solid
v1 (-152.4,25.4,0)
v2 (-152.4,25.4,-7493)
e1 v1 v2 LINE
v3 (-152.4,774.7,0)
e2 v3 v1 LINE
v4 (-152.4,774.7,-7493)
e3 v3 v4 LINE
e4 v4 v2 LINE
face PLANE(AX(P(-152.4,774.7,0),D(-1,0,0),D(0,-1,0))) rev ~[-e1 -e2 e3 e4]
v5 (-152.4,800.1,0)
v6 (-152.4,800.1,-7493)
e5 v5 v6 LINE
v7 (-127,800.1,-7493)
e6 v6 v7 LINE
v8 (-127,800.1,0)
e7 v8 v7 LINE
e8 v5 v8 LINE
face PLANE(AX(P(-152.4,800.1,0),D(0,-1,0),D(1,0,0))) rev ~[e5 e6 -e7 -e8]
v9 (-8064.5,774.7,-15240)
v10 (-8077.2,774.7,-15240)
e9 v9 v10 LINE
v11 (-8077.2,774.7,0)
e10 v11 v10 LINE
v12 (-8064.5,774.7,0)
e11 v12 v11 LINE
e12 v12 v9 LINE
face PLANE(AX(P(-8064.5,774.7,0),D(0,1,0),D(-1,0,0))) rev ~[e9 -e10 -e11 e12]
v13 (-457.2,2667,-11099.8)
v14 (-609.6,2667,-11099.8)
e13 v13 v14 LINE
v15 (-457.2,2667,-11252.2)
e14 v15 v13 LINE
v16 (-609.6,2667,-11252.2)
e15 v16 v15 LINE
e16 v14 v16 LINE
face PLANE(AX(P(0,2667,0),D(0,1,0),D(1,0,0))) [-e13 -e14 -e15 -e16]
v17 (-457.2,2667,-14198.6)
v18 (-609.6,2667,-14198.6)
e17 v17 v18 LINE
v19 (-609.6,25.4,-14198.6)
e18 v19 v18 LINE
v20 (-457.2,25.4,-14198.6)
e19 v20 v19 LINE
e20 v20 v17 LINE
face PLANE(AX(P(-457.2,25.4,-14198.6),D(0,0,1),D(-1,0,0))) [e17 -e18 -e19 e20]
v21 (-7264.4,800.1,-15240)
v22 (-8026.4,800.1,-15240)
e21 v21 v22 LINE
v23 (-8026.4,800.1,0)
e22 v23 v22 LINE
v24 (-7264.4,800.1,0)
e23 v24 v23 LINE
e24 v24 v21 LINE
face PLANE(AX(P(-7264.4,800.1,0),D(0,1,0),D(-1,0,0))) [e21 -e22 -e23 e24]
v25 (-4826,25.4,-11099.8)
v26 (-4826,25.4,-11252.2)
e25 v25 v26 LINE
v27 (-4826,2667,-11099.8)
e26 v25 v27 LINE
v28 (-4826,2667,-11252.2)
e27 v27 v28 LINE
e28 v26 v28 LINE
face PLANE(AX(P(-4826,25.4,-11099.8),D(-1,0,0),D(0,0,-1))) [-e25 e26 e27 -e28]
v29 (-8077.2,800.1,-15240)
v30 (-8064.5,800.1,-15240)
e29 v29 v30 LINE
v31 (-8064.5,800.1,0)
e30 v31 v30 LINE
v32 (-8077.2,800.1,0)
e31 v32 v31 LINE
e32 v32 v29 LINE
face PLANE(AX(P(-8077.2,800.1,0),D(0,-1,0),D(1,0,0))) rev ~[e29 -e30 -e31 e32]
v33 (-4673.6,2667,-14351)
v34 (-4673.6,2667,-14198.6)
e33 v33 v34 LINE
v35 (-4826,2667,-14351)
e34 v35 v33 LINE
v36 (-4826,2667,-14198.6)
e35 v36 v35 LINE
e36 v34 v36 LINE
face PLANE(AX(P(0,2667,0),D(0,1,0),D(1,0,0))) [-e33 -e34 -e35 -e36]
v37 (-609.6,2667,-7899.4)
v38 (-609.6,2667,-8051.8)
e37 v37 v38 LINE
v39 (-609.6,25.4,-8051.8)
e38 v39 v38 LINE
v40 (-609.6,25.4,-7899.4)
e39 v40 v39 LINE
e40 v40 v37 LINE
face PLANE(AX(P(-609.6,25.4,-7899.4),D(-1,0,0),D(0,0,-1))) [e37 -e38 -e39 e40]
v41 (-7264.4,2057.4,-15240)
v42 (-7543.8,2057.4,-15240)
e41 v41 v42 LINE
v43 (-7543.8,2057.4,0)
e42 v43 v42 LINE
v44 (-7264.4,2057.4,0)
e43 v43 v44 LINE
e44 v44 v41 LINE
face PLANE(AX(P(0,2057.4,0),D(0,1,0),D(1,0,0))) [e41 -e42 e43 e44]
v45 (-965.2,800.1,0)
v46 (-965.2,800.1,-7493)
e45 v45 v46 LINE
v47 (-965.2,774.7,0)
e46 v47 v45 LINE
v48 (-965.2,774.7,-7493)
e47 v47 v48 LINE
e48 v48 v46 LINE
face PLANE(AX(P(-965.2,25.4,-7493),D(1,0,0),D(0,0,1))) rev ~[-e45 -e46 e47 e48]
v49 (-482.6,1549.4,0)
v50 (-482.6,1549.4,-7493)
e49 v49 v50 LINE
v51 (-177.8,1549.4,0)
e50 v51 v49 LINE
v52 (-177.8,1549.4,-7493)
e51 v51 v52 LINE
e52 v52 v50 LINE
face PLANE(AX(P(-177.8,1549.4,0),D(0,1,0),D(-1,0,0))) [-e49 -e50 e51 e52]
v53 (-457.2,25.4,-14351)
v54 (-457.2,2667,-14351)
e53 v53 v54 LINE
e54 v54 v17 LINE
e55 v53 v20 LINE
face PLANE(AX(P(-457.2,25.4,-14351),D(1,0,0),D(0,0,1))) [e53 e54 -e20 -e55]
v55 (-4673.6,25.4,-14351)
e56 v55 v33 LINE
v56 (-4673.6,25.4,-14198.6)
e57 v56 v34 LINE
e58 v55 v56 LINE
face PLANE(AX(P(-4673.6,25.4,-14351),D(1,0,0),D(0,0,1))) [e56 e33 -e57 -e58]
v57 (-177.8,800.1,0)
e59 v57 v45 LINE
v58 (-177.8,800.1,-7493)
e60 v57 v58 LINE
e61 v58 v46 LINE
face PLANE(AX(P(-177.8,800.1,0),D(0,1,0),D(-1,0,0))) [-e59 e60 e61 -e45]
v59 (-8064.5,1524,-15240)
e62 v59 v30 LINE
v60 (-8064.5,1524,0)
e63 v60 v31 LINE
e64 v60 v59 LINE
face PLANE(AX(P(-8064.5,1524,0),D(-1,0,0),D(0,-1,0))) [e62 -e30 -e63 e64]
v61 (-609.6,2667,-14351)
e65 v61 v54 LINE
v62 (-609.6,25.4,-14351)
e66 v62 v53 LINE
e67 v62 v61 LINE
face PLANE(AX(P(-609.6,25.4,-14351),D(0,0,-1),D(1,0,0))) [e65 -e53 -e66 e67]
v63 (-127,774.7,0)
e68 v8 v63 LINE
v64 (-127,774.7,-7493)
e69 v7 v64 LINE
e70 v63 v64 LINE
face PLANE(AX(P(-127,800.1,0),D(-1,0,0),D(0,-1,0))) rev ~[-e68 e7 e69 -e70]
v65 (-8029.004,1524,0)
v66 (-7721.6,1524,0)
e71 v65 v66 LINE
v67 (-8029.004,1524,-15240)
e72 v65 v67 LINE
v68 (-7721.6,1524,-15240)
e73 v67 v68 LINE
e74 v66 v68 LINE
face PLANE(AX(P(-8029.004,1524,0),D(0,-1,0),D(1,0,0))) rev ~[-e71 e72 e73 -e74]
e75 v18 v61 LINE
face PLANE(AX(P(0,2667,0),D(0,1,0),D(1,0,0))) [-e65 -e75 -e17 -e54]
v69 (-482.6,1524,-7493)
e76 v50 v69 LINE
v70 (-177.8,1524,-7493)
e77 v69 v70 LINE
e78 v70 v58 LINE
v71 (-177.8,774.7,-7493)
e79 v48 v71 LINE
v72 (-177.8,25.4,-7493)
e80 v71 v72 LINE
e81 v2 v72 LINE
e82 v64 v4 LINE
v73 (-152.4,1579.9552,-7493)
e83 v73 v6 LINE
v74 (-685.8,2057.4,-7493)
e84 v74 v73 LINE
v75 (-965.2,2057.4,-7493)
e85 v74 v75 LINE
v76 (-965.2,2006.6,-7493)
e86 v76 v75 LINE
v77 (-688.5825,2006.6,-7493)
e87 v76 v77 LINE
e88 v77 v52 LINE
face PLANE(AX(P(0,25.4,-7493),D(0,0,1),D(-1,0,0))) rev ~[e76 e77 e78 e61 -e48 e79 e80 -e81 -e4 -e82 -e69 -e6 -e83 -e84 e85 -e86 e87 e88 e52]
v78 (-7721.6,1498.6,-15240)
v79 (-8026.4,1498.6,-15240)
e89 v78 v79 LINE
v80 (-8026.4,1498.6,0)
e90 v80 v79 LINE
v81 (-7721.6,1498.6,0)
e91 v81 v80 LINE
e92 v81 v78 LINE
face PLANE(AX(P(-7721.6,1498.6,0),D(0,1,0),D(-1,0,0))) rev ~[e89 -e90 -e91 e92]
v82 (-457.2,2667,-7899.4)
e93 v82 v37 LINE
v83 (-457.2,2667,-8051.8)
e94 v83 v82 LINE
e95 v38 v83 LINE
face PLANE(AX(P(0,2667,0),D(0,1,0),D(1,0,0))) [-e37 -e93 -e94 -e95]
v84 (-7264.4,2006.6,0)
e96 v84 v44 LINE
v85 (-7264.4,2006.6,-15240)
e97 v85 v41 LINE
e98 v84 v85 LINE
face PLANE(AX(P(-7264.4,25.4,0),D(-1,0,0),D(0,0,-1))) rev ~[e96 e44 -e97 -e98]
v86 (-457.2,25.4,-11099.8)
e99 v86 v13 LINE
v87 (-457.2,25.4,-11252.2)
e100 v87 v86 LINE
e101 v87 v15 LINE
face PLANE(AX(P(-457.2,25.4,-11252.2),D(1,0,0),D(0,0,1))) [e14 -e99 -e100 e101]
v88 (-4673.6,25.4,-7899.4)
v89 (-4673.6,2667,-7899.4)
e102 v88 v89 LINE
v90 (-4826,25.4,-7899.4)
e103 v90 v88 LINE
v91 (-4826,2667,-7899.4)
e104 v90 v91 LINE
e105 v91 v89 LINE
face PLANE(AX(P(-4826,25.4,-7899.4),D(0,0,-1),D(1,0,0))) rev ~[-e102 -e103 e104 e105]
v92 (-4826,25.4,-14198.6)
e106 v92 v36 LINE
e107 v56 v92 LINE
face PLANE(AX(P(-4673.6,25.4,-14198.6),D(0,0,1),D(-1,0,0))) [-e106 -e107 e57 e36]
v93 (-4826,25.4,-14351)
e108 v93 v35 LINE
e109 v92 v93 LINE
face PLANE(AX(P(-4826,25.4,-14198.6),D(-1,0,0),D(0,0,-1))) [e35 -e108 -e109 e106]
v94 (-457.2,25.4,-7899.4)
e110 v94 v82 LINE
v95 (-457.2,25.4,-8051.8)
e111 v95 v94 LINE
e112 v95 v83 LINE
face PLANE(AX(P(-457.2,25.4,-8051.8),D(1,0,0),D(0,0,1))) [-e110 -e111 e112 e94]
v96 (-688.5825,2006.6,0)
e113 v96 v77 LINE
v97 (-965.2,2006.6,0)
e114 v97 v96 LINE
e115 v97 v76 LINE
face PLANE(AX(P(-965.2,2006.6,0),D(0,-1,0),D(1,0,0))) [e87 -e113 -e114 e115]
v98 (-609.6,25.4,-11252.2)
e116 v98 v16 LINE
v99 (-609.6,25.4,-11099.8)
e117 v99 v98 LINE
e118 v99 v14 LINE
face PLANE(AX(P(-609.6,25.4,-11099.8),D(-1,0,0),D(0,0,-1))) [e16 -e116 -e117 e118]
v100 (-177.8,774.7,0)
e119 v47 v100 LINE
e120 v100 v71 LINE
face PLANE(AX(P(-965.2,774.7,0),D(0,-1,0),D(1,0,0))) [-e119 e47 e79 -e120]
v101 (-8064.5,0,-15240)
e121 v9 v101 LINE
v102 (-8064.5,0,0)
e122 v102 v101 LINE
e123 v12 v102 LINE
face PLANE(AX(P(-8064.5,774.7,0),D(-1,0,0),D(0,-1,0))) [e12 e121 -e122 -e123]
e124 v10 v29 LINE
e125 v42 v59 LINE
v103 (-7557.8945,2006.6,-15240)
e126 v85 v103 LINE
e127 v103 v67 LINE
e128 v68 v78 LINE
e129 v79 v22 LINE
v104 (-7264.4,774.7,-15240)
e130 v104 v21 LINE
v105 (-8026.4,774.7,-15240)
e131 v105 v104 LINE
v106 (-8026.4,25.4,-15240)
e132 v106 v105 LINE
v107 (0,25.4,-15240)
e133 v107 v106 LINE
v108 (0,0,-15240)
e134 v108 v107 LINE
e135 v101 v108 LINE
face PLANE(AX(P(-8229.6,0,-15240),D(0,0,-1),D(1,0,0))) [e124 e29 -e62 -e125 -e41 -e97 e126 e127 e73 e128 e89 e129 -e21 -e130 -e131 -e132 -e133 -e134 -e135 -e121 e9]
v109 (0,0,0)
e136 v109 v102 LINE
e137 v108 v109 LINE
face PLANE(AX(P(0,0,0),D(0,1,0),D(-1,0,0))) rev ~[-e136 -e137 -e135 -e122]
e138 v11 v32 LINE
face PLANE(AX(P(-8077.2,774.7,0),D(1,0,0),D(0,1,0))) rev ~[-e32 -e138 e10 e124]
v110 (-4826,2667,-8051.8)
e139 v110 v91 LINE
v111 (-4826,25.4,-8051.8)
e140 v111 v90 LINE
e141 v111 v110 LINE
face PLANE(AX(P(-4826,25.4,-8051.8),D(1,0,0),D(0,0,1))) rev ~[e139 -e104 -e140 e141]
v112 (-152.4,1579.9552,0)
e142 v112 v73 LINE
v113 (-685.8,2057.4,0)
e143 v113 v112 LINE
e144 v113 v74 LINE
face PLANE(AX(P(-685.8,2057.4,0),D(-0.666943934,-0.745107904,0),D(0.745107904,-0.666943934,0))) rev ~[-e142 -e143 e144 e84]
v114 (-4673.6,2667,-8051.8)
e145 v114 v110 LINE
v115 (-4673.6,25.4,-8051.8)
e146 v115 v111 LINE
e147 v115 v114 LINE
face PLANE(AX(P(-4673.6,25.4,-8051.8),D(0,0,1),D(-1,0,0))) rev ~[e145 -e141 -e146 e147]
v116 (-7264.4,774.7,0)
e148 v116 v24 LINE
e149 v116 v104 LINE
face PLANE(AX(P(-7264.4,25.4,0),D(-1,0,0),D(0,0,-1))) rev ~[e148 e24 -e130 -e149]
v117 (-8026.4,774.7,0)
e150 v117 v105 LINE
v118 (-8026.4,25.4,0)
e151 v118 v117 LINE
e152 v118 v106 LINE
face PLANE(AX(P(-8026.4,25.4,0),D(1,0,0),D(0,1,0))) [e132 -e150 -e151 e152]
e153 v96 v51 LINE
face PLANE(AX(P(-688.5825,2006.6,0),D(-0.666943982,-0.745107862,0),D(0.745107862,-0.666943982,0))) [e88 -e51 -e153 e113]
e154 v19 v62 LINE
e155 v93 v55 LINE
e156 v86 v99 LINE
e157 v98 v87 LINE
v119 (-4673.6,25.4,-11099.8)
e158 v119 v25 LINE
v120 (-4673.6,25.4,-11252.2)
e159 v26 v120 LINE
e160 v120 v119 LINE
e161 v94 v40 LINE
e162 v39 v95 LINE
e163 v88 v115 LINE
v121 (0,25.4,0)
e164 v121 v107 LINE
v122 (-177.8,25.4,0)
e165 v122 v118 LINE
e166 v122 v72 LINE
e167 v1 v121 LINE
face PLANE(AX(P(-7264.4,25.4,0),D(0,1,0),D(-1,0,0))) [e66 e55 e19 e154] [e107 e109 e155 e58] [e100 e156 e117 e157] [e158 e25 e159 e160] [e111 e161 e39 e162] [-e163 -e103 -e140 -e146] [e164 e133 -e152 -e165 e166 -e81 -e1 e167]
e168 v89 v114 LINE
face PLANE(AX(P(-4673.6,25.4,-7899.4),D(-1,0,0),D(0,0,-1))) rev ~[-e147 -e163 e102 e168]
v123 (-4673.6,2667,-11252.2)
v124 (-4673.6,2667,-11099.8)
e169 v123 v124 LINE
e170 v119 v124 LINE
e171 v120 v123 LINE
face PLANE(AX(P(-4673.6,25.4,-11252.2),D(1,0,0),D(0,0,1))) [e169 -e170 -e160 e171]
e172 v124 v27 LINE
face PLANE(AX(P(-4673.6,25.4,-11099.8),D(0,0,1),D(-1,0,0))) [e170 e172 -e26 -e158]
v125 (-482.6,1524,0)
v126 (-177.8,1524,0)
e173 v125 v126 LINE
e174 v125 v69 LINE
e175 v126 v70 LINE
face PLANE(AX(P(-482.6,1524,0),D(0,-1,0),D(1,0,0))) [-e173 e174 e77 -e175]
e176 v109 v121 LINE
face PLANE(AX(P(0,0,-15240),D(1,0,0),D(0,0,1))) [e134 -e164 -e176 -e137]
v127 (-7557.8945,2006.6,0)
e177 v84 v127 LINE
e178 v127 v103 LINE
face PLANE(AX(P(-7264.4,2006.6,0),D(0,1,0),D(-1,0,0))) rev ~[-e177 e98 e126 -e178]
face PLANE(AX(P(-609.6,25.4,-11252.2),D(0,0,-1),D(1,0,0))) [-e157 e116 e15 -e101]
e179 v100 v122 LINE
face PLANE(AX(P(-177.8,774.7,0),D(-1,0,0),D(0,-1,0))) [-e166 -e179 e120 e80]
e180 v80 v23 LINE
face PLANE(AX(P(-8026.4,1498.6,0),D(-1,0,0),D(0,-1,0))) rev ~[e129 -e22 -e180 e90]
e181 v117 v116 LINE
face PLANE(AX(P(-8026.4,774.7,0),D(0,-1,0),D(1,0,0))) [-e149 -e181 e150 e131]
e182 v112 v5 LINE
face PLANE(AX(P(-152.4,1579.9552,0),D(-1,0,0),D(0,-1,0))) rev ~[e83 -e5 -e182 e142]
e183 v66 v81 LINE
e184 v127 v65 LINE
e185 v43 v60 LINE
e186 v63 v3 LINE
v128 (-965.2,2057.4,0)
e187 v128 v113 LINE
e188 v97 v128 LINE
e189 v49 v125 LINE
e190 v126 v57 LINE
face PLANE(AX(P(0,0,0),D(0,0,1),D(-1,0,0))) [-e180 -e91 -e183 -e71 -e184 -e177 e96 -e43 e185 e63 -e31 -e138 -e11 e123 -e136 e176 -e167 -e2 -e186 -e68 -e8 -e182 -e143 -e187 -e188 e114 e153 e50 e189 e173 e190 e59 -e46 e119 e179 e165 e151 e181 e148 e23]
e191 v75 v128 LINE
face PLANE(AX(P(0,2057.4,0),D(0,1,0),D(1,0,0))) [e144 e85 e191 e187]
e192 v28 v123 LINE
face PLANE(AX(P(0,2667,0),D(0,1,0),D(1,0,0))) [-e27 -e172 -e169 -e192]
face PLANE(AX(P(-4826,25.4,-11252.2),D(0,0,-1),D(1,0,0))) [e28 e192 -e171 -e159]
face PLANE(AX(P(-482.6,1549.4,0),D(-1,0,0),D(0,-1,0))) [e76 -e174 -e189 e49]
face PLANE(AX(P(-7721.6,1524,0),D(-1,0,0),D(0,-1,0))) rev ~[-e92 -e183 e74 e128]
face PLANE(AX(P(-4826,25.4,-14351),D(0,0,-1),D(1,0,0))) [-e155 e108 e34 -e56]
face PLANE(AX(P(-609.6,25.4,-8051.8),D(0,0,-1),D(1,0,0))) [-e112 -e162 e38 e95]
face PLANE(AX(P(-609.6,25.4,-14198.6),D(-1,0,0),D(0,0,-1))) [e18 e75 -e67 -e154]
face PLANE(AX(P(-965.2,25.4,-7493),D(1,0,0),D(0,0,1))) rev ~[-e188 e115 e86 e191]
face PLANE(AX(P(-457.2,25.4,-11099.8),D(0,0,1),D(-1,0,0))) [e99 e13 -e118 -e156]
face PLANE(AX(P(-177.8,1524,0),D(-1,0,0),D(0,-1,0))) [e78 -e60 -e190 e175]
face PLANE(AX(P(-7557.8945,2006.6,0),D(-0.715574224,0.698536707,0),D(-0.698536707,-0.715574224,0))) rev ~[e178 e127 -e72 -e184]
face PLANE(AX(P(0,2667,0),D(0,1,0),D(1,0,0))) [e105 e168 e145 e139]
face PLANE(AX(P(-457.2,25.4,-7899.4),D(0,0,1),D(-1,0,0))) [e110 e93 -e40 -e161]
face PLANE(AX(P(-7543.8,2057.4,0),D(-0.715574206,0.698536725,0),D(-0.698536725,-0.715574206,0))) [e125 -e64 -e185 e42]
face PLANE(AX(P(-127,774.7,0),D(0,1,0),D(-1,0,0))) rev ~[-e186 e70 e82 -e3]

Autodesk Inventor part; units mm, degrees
ref_plane "YZ Plane" through (0, 0, 0) normal (1, 0, 0) x (0, 1, 0)
ref_plane "XZ Plane" through (0, 0, 0) normal (0, 1, 0) x (-1, 0, 0)
ref_plane "XY Plane" through (0, 0, 0) normal (0, 0, 1) x (1, 0, 0)
sketch "Sketch1" plane through (0, 0, 0) normal (0, 1, 0) x (-1, 0, 0)
  line L0 (0, 0) -> (8229.6, 0)
  line L1 (8229.6, 0) -> (8229.6, -15240)
  line L2 (8229.6, -15240) -> (0, -15240)
  line L3 (0, -15240) -> (0, 0)
  line L4 (533.4, -7975.6) -> (533.4, -11176) construction
  line L5 (533.4, -11176) -> (533.4, -14274.8) construction
  line L6 (4749.8, -7975.6) -> (4749.8, -11176) construction
  line L7 (4749.8, -11176) -> (4749.8, -14274.8) construction
  line L8 (4749.8, -14274.8) -> (533.4, -14274.8) construction
  line L9 (4749.8, -7975.6) -> (533.4, -7975.6) construction
  line L10 (533.4, -11176) -> (4749.8, -11176) construction
  dimension "d0" = 15240
  dimension "d1" = 8229.6
  dimension "d2" = 3200.4
  dimension "d3" = 3098.8
  dimension "d4" = 4216.4
  dimension "d5" = 533.4
  dimension "d6" = 965.2
extrude "Extrusion1" add sketch "Sketch1" along normal blind 25.4
sketch "Sketch2" plane through (0, 25.4, 0) normal (0, 1, 0) x (1, 0, 0)
  line L0 (-4673.6, 8051.8) -> (-4826, 8051.8)
  line L1 (-4826, 8051.8) -> (-4826, 7899.4)
  line L2 (-4826, 7899.4) -> (-4673.6, 7899.4)
  line L3 (-4673.6, 7899.4) -> (-4673.6, 8051.8)
  line L4 (-4673.6, 8051.8) -> (-4826, 7899.4) construction
  line L5 (-4826, 8051.8) -> (-4673.6, 7899.4) construction
  line L6 (-457.2, 7899.4) -> (-609.6, 7899.4)
  line L7 (-609.6, 7899.4) -> (-609.6, 8051.8)
  line L8 (-609.6, 8051.8) -> (-457.2, 8051.8)
  line L9 (-457.2, 8051.8) -> (-457.2, 7899.4)
  line L10 (-457.2, 7899.4) -> (-609.6, 8051.8) construction
  line L11 (-609.6, 7899.4) -> (-457.2, 8051.8) construction
  line L12 (-4673.6, 11099.8) -> (-4826, 11099.8)
  line L13 (-4826, 11099.8) -> (-4826, 11252.2)
  line L14 (-4826, 11252.2) -> (-4673.6, 11252.2)
  line L15 (-4673.6, 11252.2) -> (-4673.6, 11099.8)
  line L16 (-4673.6, 11099.8) -> (-4826, 11252.2) construction
  line L17 (-4826, 11099.8) -> (-4673.6, 11252.2) construction
  line L18 (-457.2, 11099.8) -> (-609.6, 11099.8)
  line L19 (-609.6, 11099.8) -> (-609.6, 11252.2)
  line L20 (-609.6, 11252.2) -> (-457.2, 11252.2)
  line L21 (-457.2, 11252.2) -> (-457.2, 11099.8)
  line L22 (-457.2, 11099.8) -> (-609.6, 11252.2) construction
  line L23 (-609.6, 11099.8) -> (-457.2, 11252.2) construction
  line L24 (-457.2, 14198.6) -> (-609.6, 14198.6)
  line L25 (-609.6, 14198.6) -> (-609.6, 14351)
  line L26 (-609.6, 14351) -> (-457.2, 14351)
  line L27 (-457.2, 14351) -> (-457.2, 14198.6)
  line L28 (-457.2, 14198.6) -> (-609.6, 14351) construction
  line L29 (-609.6, 14198.6) -> (-457.2, 14351) construction
  line L30 (-4673.6, 14198.6) -> (-4826, 14198.6)
  line L31 (-4826, 14198.6) -> (-4826, 14351)
  line L32 (-4826, 14351) -> (-4673.6, 14351)
  line L33 (-4673.6, 14351) -> (-4673.6, 14198.6)
  line L34 (-4673.6, 14198.6) -> (-4826, 14351) construction
  line L35 (-4826, 14198.6) -> (-4673.6, 14351) construction
  point P0 (0, 0)
  point P1 (-4749.8, 14274.8)
  point P2 (-533.4, 14274.8)
  point P3 (-533.4, 11176)
  point P4 (-4749.8, 11176)
  point P5 (-4749.8, 7975.6)
  point P6 (-533.4, 7975.6)
  dimension "d9" = 152.4
  dimension "d10" = 152.4
  dimension "d11" = 152.4
  dimension "d12" = 152.4
  dimension "d13" = 152.4
  dimension "d14" = 152.4
  dimension "d15" = 152.4
  dimension "d16" = 152.4
  dimension "d17" = 152.4
  dimension "d18" = 152.4
  dimension "d19" = 152.4
extrude "Extrusion2" add sketch "Sketch2" along normal blind 2641.6
sketch "Sketch3" plane through (0, 25.4, 0) normal (0, 1, 0) x (1, 0, 0)
  line L0 (-8229.6, 0) -> (-7264.4, 0)
  line L1 (-7264.4, 0) -> (-7264.4, 15240)
  line L2 (-7264.4, 15240) -> (-8229.6, 15240)
  line L3 (-8229.6, 15240) -> (-8229.6, 0)
  line L4 (0, 7493) -> (-965.2, 7493)
  line L5 (-965.2, 7493) -> (-965.2, 0)
  line L6 (-965.2, 0) -> (0, 0)
  line L7 (0, 0) -> (0, 7493)
  line L8 (-8229.6, 15240) -> (-8229.6, 0) projected
  line L9 (0, 15240) -> (-8229.6, 15240) projected
  line L10 (-8229.6, 0) -> (0, 0) projected
  line L11 (0, 0) -> (0, 15240) projected
  line L12 (-609.6, 7899.4) -> (-457.2, 7899.4) projected
  dimension "d22" = 965.2
  dimension "d23" = 0
  dimension "d24" = 0
  dimension "d25" = 0
  dimension "d26" = 965.2
  dimension "d27" = 0
  dimension "d28" = 406.4
  dimension "d29" = 0
extrude "Extrusion3" add sketch "Sketch3" along normal blind 2032 contours L3 L2 L1 L0 | L5 L4 L7 L6
sketch "Sketch4" plane through (-8229.6, 0, 0) normal (0, 0, 1) x (1, 0, 0)
  line L0 (685.8, 2057.4) -> (165.1, 1524)
  line L1 (165.1, 1524) -> (165.1, 774.7)
  line L2 (0, 0) -> (0, 2057.4) projected
  line L3 (165.1, 774.7) -> (152.4, 774.7)
  line L4 (152.4, 774.7) -> (152.4, 800.1)
  line L5 (152.4, 800.1) -> (165.1, 800.1)
  line L6 (165.1, 800.1) -> (165.1, 0)
  line L7 (8229.6, 0) -> (0, 0) projected
  line L8 (965.2, 25.4) -> (965.2, 2057.4) projected
  line L9 (965.2, 2006.6) -> (671.7055, 2006.6)
  line L10 (671.7055, 2006.6) -> (200.596, 1524)
  line L11 (200.596, 1524) -> (508, 1524)
  line L12 (508, 1524) -> (508, 1498.6)
  line L13 (508, 1498.6) -> (203.2, 1498.6)
  line L14 (203.2, 1498.6) -> (203.2, 774.7)
  line L15 (203.2, 774.7) -> (965.2, 774.7)
  line L16 (965.2, 800.1) -> (203.2, 800.1)
  line L17 (203.2, 0) -> (203.2, 800.1)
  line L18 (165.1, 0) -> (203.2, 0)
  line L19 (0, 2057.4) -> (965.2, 2057.4) projected
  line L20 (685.8, 2057.4) -> (965.2, 2057.4)
  line L21 (965.2, 25.4) -> (7264.4, 25.4) projected
  line L22 (965.2, 25.4) -> (203.2, 25.4)
  line L23 (8229.6, 0) -> (8229.6, 2057.4) projected
  line L24 (4114.8, 3713.7575) -> (4114.8, -1399.6684) construction
  line L25 (8229.6, 2057.4) -> (7264.4, 2057.4) projected
  line L26 (7264.4, 2057.4) -> (7543.8, 2057.4)
  line L27 (7543.8, 2057.4) -> (8077.2, 1579.9552)
  line L28 (8077.2, 1579.9552) -> (8077.2, 800.1)
  line L29 (8077.2, 800.1) -> (8102.6, 800.1)
  line L30 (8102.6, 800.1) -> (8102.6, 774.7)
  line L31 (8102.6, 774.7) -> (8077.2, 774.7)
  line L32 (8077.2, 774.7) -> (8077.2, 0)
  line L33 (7264.4, 25.4) -> (7264.4, 2057.4) projected
  line L34 (7264.4, 2057.4) -> (7264.4, 2006.6)
  line L35 (7264.4, 2006.6) -> (7541.0175, 2006.6)
  line L36 (7541.0175, 2006.6) -> (8051.8, 1549.4)
  line L37 (8051.8, 1549.4) -> (7747, 1549.4)
  line L38 (7747, 1549.4) -> (7747, 1524)
  line L39 (7747, 1524) -> (8051.8, 1524)
  line L40 (8051.8, 1524) -> (8051.8, 800.1)
  line L41 (8051.8, 800.1) -> (7264.4, 800.1)
  line L42 (7264.4, 774.7) -> (8051.8, 774.7)
  line L43 (8051.8, 774.7) -> (8051.8, 0)
  line L44 (8051.8, 0) -> (8077.2, 0)
  line L45 (0, 0) -> (8229.6, 0) projected
  line L46 (7264.4, 800.1) -> (7264.4, 774.7)
  line L47 (7264.4, 25.4) -> (8229.6, 25.4) projected
  line L48 (7264.4, 25.4) -> (8051.8, 25.4)
  line L49 (8077.2, 25.4) -> (8229.6, 25.4)
  point P0 (7620, 25.4)
  dimension "d33" = 279.4
  dimension "d34" = 152.4
  dimension "d35" = 38.1
  dimension "d36" = 25.4
  dimension "d37" = 304.8
  dimension "d38" = 25.4
  dimension "d40" = 723.9
  dimension "d41" = 25.4
  dimension "d42" = 749.3
  dimension "d43" = 12.7
  dimension "d44" = 0
  dimension "d47" = 8229.6
  dimension "d48" = 4114.8
  dimension "d49" = 50.8
  dimension "d50" = 50.8
  dimension "d51" = 279.4
  dimension "d53" = 25.4
  dimension "d55" = 25.4
  dimension "d56" = 749.3
  dimension "d57" = 723.9
  dimension "d61" = 25.4
  dimension "d62" = 0
  dimension "d65" = 304.8
  dimension "d66" = 152.4
  dimension "d67" = 25.4
  dimension "d68" = 25.4
  dimension "d69" = 0
extrude "Extrusion4" cut sketch "Sketch4" against normal up to surface (15240 mm away) contours L0 L1 L5 L4 L3 L6 L7 L2 L19 | L8 L16 L14 L13 L12 L11 L10 L9 | L8 L22 L17 L15
extrude "Extrusion5" cut sketch "Sketch4" against normal up to surface (7493 mm away) contours L47 L33 L42 L43 | L32 L31 L30 L29 L28 L27 L25 L23 L47 | L33 L35 L36 L37 L38 L39 L40 L41
sketch "Sketch5" plane through (0, 25.4, 0) normal (0, 1, 0) x (1, 0, 0)
  line L0 (-6561.766, -1719.3221) -> (-6561.766, 17924.4029) construction
  line L1 (-1356.1138, -1351.5016) -> (-1356.1138, 18209.6734) construction
  line L2 (-4749.8, 7977.1875) -> (-1539.875, 7977.1875)
  line L3 (-1539.875, 7977.1875) -> (-1539.875, 11220.45)
  line L4 (-1539.875, 11220.45) -> (-4749.8, 11220.45)
  line L5 (-4749.8, 11220.45) -> (-4749.8, 7977.1875)
  line L6 (-4749.8, 11220.45) -> (-1539.875, 11220.45)
  line L7 (-1539.875, 11220.45) -> (-1539.875, 14306.55)
  line L8 (-1539.875, 14306.55) -> (-4749.8, 14306.55)
  line L9 (-4749.8, 14306.55) -> (-4749.8, 11220.45)
  line L10 (-4749.8, 14031.9125) -> (-5951.5375, 14031.9125)
  line L11 (-5951.5375, 14031.9125) -> (-5951.5375, 13276.2625)
  line L12 (-5951.5375, 13276.2625) -> (-4749.8, 13276.2625)
  line L13 (-4749.8, 13276.2625) -> (-4749.8, 14031.9125)
  line L14 (-5951.5375, 13276.2625) -> (-5540.375, 13276.2625)
  line L15 (-5540.375, 13276.2625) -> (-5540.375, 11782.425)
  line L16 (-5540.375, 11782.425) -> (-5951.5375, 11782.425)
  line L17 (-5951.5375, 11782.425) -> (-5951.5375, 13276.2625)
  line L18 (-1539.875, 7977.1875) -> (-2397.125, 7977.1875)
  line L19 (-2397.125, 7977.1875) -> (-2397.125, 6659.5625)
  line L20 (-2397.125, 6659.5625) -> (-1539.875, 6659.5625)
  line L21 (-1539.875, 6659.5625) -> (-1539.875, 7977.1875)
  line L22 (-2397.125, 6659.5625) -> (-3556, 6659.5625)
  line L23 (-3556, 6659.5625) -> (-3556, 7202.4875)
  line L24 (-3556, 7202.4875) -> (-2397.125, 7202.4875)
  line L25 (-2397.125, 7202.4875) -> (-2397.125, 6659.5625)
  line L26 (-3980.5642, 8141.6542) -> (-3980.5642, 10899.1417) construction
  line L27 (-4259.01, 8846.5642) -> (-1750.76, 8846.5642) construction
  line L28 (-4229.6733, 10488.9933) -> (-1721.4233, 10488.9933) construction
  line L29 (-1986.3517, 8391.0158) -> (-1986.3517, 11148.5033) construction
equation "\"d10\" = d9"
equation "\"d11\" = d10"
equation "\"d12\" = d11"
equation "\"d13\" = d11"
equation "\"d14\" = d12"
equation "\"d15\" = d10"
equation "\"d16\" = d10"
equation "\"d17\" = d15"
equation "\"d18\" = d17"
equation "\"d19\" = d17"
equation "\"d48\" = 0.5 * d47"
equation "\"d50\" = d49"
equation "\"d51\" = d33"
equation "\"d53\" = d36"
equation "\"d55\" = d41"
equation "\"d56\" = d42"
equation "\"d57\" = d40"
equation "\"d61\" = d55"
properties part number "ROOM_B164"
